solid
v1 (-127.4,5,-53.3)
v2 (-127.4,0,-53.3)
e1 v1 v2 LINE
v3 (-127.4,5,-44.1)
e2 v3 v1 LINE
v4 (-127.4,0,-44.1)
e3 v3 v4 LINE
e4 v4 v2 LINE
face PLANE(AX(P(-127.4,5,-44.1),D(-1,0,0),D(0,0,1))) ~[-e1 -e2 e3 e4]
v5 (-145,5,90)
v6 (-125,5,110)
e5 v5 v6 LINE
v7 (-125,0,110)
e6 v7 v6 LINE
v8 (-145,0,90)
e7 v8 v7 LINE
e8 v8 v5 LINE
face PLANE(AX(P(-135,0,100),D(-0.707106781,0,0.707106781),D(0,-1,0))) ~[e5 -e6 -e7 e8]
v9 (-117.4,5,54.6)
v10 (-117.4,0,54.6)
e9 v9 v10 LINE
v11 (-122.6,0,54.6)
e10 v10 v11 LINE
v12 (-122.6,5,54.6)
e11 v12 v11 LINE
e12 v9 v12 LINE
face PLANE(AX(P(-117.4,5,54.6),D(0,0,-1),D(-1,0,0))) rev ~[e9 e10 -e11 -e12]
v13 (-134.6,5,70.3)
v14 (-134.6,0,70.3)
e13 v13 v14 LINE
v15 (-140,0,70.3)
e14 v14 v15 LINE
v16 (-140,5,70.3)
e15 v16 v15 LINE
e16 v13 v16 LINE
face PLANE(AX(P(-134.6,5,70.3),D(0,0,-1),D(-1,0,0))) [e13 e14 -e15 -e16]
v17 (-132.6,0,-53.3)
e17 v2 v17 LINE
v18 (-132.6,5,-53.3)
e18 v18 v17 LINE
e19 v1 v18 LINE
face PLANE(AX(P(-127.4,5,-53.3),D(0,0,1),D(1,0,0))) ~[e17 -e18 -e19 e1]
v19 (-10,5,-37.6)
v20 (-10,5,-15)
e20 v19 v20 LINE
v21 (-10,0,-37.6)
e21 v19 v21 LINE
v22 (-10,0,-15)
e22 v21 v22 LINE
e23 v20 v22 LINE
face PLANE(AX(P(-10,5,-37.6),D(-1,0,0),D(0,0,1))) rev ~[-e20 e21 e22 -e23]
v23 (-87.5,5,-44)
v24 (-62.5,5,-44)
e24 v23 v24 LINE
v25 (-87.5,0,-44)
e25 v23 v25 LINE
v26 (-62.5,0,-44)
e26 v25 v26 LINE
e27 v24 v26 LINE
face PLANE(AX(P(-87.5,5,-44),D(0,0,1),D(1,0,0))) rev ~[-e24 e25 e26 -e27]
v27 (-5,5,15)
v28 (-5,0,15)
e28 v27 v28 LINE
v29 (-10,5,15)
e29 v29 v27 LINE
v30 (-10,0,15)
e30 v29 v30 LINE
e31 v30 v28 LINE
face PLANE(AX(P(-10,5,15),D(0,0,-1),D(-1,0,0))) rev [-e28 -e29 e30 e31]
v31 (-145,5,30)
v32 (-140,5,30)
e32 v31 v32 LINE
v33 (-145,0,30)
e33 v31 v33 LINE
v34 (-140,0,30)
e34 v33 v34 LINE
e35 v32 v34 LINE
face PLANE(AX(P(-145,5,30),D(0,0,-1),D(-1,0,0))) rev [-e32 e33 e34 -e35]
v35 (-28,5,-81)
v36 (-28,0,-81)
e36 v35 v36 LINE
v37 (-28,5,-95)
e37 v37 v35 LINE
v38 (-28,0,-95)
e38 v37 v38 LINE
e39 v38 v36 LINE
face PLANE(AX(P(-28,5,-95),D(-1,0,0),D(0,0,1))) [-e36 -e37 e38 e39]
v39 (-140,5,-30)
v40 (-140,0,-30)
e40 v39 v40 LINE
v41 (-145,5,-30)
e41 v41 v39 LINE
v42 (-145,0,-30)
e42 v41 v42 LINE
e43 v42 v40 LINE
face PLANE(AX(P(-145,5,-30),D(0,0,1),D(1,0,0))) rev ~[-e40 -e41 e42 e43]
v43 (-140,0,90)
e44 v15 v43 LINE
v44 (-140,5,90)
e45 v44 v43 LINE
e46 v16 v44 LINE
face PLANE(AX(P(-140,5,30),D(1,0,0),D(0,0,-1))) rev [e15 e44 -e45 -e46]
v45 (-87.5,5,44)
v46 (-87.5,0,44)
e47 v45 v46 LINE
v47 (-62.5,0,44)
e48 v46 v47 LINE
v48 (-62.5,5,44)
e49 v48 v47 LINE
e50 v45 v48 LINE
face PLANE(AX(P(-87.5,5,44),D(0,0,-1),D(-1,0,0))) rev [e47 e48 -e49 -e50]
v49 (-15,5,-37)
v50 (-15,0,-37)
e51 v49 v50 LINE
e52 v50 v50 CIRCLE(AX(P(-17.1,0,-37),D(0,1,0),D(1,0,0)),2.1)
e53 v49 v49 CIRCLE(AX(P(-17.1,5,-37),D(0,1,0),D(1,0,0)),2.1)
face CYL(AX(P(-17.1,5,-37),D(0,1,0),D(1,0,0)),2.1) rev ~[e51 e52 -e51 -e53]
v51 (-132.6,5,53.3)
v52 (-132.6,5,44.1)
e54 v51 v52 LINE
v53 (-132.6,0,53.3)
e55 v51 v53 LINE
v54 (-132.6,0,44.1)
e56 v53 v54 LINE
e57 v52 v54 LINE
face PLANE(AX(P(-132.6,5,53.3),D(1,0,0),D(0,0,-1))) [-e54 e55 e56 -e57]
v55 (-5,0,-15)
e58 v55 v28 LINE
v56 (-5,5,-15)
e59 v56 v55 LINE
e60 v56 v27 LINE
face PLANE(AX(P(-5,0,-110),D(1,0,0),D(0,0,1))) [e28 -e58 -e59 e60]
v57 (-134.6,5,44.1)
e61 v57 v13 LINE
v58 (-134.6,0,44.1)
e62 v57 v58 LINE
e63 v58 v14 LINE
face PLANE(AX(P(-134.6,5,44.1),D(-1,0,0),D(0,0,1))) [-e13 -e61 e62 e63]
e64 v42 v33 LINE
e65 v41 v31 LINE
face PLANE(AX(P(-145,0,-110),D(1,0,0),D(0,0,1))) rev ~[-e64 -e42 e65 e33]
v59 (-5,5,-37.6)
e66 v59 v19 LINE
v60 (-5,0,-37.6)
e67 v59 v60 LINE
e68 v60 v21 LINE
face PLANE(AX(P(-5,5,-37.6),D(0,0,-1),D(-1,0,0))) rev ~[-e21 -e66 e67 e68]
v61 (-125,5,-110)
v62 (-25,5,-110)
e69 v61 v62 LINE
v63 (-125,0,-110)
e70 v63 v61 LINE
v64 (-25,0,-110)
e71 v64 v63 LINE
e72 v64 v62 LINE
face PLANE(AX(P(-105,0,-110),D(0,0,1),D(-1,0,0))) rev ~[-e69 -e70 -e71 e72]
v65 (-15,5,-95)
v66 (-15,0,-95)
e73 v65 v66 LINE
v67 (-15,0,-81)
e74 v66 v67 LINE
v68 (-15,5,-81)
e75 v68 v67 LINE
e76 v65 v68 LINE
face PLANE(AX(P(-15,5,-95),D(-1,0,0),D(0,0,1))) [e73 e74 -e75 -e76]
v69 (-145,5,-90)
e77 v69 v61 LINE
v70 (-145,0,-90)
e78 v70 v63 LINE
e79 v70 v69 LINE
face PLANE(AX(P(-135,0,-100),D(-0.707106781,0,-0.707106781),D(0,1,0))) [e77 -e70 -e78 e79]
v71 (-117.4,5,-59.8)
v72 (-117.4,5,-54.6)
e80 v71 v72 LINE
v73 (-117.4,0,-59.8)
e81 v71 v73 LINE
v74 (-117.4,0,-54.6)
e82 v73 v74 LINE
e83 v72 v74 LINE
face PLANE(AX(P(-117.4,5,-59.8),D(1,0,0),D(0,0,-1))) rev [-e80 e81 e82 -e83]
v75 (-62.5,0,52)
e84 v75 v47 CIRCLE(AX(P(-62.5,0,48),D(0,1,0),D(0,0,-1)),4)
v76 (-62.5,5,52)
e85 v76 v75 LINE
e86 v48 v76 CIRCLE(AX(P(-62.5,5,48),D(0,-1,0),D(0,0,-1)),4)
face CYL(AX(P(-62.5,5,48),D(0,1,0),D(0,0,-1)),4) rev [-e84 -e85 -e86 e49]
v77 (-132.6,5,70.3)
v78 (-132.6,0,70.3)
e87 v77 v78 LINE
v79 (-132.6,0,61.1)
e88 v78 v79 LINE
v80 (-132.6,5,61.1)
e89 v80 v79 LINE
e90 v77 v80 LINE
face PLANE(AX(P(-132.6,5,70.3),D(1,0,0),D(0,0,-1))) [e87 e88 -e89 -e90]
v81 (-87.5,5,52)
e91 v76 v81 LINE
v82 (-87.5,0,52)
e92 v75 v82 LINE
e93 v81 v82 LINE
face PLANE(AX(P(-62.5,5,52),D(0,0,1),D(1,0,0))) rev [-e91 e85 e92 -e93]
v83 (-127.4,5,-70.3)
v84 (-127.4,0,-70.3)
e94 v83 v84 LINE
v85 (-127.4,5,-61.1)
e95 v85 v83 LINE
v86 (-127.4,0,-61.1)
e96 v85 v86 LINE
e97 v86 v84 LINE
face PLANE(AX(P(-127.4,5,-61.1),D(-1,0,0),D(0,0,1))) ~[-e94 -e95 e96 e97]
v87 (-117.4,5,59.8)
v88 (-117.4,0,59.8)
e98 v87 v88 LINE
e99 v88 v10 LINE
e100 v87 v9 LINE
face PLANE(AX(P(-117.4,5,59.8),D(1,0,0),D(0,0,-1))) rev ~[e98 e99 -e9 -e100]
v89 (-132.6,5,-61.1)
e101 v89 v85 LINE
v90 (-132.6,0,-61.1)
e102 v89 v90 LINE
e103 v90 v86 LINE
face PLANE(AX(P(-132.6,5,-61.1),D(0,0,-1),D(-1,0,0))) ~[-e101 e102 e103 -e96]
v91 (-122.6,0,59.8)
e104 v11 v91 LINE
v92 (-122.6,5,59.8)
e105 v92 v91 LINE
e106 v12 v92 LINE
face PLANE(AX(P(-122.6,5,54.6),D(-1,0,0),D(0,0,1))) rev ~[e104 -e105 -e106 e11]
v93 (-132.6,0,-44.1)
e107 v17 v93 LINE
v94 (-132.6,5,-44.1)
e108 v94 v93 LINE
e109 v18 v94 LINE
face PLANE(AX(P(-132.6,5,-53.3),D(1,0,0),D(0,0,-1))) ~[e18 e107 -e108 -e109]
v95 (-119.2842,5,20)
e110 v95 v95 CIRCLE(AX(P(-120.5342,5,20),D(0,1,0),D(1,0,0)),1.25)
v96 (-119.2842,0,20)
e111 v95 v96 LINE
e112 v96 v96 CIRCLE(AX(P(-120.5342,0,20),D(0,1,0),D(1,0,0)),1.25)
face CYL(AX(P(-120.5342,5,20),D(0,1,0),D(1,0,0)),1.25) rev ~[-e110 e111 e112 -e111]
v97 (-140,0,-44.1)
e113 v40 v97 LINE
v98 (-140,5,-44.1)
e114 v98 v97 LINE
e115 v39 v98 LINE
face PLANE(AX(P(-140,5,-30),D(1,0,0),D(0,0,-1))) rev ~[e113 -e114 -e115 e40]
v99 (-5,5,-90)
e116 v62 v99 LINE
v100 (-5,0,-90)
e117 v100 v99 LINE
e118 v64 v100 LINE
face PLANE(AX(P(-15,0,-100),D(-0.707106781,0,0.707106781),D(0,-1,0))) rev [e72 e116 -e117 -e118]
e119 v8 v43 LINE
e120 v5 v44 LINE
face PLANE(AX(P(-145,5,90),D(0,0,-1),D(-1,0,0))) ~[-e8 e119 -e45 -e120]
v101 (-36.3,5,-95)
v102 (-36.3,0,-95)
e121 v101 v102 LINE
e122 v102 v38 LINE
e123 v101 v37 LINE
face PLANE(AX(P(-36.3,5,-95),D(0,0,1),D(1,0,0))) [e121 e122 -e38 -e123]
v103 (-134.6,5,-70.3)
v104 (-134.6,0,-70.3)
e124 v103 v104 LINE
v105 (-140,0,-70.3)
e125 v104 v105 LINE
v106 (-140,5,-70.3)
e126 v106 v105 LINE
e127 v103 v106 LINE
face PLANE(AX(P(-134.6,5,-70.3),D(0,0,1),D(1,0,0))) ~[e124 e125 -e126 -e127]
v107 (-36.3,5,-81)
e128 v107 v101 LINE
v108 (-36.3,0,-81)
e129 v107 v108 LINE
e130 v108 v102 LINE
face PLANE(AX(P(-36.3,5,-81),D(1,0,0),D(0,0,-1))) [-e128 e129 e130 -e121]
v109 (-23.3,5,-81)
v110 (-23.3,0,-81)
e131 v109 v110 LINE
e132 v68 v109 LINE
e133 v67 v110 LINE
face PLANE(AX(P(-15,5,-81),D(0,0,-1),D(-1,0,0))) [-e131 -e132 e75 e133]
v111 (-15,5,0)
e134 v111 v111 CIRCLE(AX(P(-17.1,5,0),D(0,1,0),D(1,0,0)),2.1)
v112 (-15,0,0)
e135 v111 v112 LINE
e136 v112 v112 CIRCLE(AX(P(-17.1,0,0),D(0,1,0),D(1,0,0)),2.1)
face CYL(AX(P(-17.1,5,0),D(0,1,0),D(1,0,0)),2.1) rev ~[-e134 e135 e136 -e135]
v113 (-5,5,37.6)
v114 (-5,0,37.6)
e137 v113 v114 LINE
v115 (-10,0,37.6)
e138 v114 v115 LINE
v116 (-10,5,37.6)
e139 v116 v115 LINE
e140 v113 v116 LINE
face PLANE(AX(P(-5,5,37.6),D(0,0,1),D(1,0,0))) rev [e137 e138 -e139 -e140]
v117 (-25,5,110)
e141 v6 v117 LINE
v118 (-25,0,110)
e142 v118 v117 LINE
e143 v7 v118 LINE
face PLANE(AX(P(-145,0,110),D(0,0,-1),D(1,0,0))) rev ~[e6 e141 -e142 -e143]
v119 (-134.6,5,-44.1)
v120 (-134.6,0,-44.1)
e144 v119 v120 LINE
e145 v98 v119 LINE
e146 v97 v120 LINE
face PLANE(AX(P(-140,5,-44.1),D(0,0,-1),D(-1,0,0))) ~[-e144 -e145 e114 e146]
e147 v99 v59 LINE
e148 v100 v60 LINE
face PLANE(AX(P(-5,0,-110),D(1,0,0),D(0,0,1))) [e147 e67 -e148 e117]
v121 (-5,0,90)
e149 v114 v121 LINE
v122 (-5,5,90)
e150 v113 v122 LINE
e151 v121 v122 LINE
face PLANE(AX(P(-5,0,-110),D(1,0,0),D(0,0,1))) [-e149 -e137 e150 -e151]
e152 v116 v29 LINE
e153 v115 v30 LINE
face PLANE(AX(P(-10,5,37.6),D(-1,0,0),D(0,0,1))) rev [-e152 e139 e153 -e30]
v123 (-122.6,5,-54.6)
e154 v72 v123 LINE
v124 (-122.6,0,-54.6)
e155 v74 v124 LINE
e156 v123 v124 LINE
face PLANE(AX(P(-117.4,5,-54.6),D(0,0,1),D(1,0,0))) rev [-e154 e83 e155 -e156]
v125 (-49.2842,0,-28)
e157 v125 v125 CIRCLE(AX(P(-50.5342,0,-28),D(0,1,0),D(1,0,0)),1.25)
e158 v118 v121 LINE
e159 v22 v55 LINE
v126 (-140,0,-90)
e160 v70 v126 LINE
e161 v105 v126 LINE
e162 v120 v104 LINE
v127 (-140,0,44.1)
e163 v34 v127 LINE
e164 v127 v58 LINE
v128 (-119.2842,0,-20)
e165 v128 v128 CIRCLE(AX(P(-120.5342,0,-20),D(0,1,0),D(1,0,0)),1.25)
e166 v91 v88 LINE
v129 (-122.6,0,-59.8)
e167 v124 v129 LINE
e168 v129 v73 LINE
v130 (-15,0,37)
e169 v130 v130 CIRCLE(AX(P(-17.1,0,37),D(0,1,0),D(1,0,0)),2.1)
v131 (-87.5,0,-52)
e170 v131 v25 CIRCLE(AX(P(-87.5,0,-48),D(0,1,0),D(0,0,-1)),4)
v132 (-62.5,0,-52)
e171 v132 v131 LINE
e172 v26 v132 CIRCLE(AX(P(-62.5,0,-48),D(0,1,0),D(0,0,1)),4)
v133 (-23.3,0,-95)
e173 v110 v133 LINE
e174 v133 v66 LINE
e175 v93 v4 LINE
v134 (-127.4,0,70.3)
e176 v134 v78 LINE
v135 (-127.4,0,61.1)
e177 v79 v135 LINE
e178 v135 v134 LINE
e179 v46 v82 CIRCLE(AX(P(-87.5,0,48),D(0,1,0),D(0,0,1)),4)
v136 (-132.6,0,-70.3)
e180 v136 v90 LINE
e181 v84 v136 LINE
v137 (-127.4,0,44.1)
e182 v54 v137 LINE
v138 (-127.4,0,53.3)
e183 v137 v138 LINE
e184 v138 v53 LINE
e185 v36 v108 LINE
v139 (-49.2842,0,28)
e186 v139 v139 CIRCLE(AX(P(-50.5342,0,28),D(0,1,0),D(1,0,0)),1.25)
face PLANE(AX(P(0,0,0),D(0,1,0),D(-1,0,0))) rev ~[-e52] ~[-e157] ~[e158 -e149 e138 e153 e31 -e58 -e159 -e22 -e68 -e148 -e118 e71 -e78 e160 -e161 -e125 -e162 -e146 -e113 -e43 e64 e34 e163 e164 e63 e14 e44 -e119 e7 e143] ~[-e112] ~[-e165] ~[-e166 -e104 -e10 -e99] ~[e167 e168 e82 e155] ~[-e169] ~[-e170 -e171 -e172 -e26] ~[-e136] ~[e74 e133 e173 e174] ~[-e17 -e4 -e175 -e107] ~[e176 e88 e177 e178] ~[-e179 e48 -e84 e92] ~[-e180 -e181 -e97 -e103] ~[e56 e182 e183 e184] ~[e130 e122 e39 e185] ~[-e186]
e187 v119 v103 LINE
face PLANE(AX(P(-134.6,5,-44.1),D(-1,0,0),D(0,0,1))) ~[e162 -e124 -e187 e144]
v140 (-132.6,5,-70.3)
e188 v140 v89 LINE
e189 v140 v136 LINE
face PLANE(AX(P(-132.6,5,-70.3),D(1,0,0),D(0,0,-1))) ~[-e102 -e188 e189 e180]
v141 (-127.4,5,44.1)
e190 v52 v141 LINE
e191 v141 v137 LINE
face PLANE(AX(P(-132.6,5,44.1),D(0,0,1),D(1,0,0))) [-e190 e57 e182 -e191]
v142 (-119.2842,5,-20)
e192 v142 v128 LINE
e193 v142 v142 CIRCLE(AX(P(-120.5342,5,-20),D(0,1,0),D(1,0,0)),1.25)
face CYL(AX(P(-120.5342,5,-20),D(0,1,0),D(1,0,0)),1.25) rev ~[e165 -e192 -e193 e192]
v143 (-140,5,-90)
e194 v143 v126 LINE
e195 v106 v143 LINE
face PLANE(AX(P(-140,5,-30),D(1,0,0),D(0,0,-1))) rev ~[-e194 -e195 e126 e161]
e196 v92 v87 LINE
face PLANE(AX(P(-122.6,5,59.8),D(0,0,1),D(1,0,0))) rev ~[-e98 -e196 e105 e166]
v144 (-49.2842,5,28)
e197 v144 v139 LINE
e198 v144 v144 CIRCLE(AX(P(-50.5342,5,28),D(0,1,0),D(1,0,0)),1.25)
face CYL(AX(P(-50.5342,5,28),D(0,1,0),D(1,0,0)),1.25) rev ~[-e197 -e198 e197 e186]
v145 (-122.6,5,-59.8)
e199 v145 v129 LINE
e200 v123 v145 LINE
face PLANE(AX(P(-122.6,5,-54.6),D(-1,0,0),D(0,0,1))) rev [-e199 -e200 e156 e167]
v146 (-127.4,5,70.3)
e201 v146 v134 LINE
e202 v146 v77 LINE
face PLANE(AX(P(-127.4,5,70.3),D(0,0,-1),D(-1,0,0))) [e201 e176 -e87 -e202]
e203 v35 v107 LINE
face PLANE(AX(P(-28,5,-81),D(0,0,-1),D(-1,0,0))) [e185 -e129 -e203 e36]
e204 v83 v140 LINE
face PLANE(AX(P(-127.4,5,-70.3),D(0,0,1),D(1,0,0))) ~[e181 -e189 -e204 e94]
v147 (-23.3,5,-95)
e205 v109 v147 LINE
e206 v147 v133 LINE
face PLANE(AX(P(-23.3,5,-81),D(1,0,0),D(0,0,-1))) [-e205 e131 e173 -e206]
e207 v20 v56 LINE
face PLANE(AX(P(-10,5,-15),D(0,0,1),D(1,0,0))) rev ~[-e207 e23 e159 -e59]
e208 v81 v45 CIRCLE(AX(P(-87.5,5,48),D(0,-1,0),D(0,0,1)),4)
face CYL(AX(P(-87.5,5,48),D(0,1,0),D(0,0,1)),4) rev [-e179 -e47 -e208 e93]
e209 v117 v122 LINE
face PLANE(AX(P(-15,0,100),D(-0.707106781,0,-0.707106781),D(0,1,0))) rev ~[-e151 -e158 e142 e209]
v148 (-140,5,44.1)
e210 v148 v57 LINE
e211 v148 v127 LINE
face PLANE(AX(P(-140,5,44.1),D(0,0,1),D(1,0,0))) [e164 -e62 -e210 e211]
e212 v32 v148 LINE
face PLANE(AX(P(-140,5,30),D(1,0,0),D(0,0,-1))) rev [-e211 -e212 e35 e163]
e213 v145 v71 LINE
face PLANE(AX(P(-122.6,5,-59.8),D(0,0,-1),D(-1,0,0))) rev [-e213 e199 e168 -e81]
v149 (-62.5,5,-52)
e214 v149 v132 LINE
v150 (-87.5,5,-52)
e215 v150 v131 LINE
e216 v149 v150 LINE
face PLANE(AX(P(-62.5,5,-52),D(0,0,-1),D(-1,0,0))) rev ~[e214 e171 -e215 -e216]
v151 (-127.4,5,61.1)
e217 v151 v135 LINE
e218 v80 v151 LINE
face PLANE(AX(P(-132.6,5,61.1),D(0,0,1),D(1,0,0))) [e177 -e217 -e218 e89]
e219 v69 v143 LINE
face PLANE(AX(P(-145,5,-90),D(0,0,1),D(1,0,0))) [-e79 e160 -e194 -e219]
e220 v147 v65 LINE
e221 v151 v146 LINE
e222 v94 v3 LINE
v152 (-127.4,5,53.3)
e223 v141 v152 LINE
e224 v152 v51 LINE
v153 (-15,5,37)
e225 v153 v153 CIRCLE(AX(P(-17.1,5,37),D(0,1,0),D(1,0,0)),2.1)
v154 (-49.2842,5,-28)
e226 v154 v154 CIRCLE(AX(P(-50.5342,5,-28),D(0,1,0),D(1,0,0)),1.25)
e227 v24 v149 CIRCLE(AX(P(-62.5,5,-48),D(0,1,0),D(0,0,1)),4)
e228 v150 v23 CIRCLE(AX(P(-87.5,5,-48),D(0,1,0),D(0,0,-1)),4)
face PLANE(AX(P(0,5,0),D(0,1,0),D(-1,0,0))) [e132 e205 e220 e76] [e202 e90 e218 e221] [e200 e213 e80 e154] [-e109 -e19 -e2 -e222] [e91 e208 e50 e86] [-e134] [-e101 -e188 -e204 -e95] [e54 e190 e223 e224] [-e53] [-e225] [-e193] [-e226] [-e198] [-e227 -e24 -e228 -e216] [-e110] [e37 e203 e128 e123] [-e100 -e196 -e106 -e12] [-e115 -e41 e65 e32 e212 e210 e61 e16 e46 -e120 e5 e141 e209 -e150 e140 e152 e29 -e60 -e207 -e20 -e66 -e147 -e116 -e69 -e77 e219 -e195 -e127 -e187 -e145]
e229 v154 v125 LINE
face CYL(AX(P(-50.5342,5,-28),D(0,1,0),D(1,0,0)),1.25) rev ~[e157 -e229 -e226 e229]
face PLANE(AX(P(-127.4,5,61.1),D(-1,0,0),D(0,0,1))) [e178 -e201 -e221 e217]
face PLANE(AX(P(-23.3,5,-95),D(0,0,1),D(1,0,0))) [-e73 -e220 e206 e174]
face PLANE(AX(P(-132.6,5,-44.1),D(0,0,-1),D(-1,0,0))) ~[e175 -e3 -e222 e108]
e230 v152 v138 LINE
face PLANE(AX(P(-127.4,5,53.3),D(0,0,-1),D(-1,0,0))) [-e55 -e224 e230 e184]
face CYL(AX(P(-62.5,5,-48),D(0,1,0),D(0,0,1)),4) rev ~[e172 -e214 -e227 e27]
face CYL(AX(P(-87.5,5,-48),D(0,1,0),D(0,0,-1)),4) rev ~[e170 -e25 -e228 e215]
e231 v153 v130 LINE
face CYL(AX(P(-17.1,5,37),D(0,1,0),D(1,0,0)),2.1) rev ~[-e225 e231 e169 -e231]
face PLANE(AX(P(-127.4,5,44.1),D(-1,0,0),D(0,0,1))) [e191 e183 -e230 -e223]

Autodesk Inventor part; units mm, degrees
ref_plane "YZ Plane" through (0, 0, 0) normal (1, 0, 0) x (0, 1, 0)
ref_plane "XZ Plane" through (0, 0, 0) normal (0, 1, 0) x (-1, 0, 0)
ref_plane "XY Plane" through (0, 0, 0) normal (0, 0, 1) x (1, 0, 0)
sketch "Sketch1" plane through (0, 0, 0) normal (0, 1, 0) x (-1, 0, 0)
  line L0 (145, 110) -> (-145, 110)
  line L1 (-145, 110) -> (-145, -110)
  line L2 (-145, -110) -> (145, -110)
  line L3 (145, -110) -> (145, 110)
  line L4 (145, 110) -> (-145, -110) construction
  line L5 (-145, 110) -> (145, -110) construction
  line L6 (105, -80.8333) -> (35, -80.8333)
  line L7 (35, -80.8333) -> (35, -115.8333)
  line L8 (35, -115.8333) -> (105, -115.8333)
  line L9 (105, -115.8333) -> (105, -80.8333)
  line L10 (105, -80.8333) -> (35, -115.8333) construction
  line L11 (35, -80.8333) -> (105, -115.8333) construction
  line L12 (-35, -115.8333) -> (-105, -115.8333)
  line L13 (-105, -115.8333) -> (-105, -80.8333)
  line L14 (-105, -80.8333) -> (-35, -80.8333)
  line L15 (-35, -80.8333) -> (-35, -115.8333)
  line L16 (-35, -115.8333) -> (-105, -80.8333) construction
  line L17 (-105, -115.8333) -> (-35, -80.8333) construction
  line L18 (0, 110) -> (0, -110) construction
  line L19 (5, -110) -> (5, 110)
  point P0 (0, 0)
  point P1 (70, -98.3333)
  point P2 (-70, -98.3333)
  point P3 (0, 0)
  point P4 (-105, -110)
  point P5 (-35, -110)
  point P6 (-15, -80.8333)
  point P7 (-55, -80.8333)
  point P8 (105, -110)
  point P9 (35, -110)
  dimension "d1" = 70
  dimension "d2" = 70
  dimension "d3" = 35
  dimension "d4" = 35
  dimension "d5" = 140
  dimension "d6" = 11.6667
  dimension "d7" = 220
  dimension "d8" = 290
  dimension "d34" = 140
extrude "Extrusion1" add sketch "Sketch1" along normal blind 5 contours L3 L2 L9 L6 L7 L19 L0 | L2 L7 L6 L9
sketch "Sketch5" plane through (0, 5, 0) normal (0, 1, 0) x (1, 0, 0)
  line L0 (-145, -110) -> (-5, -110) construction
  line L1 (-5, -110) -> (-5, 110) construction
  line L2 (-5, 110) -> (-145, 110) construction
  line L3 (-145, 110) -> (-145, -110) construction
  circle A0 centre (-120.5342, 20) radius 1.25
  circle A1 centre (-120.5342, -20) radius 1.25
  circle A2 centre (-50.5342, 28) radius 1.25
  circle A3 centre (-50.5342, -28) radius 1.25
  line L4 (-145, 0) -> (-5, 0) construction
  point P0 (0, 0)
  dimension "d35" = 56
  dimension "d36" = 40
  dimension "d37" = 70
  dimension "d38" = 2.5
  dimension "d39" = 2.5
extrude "Extrusion6" cut sketch "Sketch5" against normal through all
chamfer "Chamfer1" distance 20 angle 45 4 edges at (-145, 2.5, 110) (-145, 2.5, -110) (-5, 2.5, 110) (-5, 2.5, -110)
sketch "Sketch6" plane through (0, 5, 0) normal (0, 1, 0) x (1, 0, 0)
  circle A0 centre (-50.5342, -28) radius 1.25 projected
  circle A1 centre (-50.5342, 28) radius 1.25 projected
  circle A2 centre (-120.5342, -20) radius 1.25 projected
  circle A3 centre (-120.5342, 20) radius 1.25 projected
  line L0 (-25, 110) -> (-5, 90) projected
  line L1 (-25, 110) -> (-125, 110) projected
  line L2 (-145, 90) -> (-125, 110) projected
  line L3 (-145, 90) -> (-145, -90) projected
  line L4 (-125, -110) -> (-145, -90) projected
  line L5 (-125, -110) -> (-25, -110) projected
  line L6 (-5, -90) -> (-25, -110) projected
  line L7 (-5, -90) -> (-5, 90) projected
  line L8 (-145, 90) -> (-145, -90) projected
  line L9 (-5, 37.6) -> (-10, 37.6)
  line L10 (-10, 37.6) -> (-10, 15)
  line L11 (-10, 15) -> (-5, 15)
  line L12 (-5, 15) -> (-5, 37.6)
  line L13 (-5, 37.6) -> (-10, 15) construction
  line L14 (-10, 37.6) -> (-5, 15) construction
  line L15 (-5, -90) -> (-5, 90) projected
  line L16 (-87.5, 48) -> (-62.5, 48) construction
  line L17 (-87.5, 44) -> (-62.5, 44)
  line L18 (-62.5, 52) -> (-87.5, 52)
  arc A4 (-87.5, 52) -> (-87.5, 44) centre (-87.5, 48) ccw
  arc A5 (-62.5, 44) -> (-62.5, 52) centre (-62.5, 48) ccw
  line L19 (-145, 30) -> (-140, 30)
  line L20 (-140, 30) -> (-140, -30) construction
  line L21 (-140, -30) -> (-145, -30)
  line L22 (-145, -30) -> (-145, 30)
  line L23 (-145, 30) -> (-140, -30) construction
  line L24 (-140, 30) -> (-145, -30) construction
  line L25 (-140, 30) -> (-140, 95)
  line L26 (-140, -30) -> (-140, -95)
  line L27 (-145, 90) -> (-140, 90)
  point P0 (0, 0)
  point P1 (-7.5, 26.3)
  point P2 (-5, 15)
  point P3 (-5, 37.6)
  point P4 (-75, 48)
  point P5 (-75, 110)
  point P6 (-142.5, 0)
  point P7 (-145, 0)
  point P8 (-145, 0)
  dimension "d57" = 5
  dimension "d58" = 22.6
  dimension "d59" = 15
  dimension "d60" = 8
  dimension "d61" = 25
  dimension "d86" = 5
  dimension "d87" = 60
  dimension "d88" = 48
extrude "Extrusion7" cut sketch "Sketch6" against normal through all contours L7 L11 L10 L9 | L27 L25 L19 L3 | A4 L18 A5 L17
mirror "Mirror6" about plane through (0, 0, 0) normal (0, 0, 1) of "Extrusion7"
sketch "Sketch8" plane through (0, 5, 0) normal (0, 1, 0) x (1, 0, 0)
  circle A0 centre (-120.5342, 20) radius 1.25 construction
  circle A1 centre (-120.5342, -20) radius 1.25 construction
  circle A2 centre (-50.5342, 28) radius 1.25 construction
  circle A3 centre (-50.5342, -28) radius 1.25 construction
  line L0 (-87.5, 52) -> (-62.5, 52) construction
  arc A4 (-62.5, 44) -> (-62.5, 52) centre (-62.5, 48) ccw construction
  line L1 (-62.5, 44) -> (-87.5, 44) construction
  arc A5 (-87.5, 52) -> (-87.5, 44) centre (-87.5, 48) ccw construction
  line L2 (-87.5, -44) -> (-62.5, -44) construction
  arc A6 (-62.5, -52) -> (-62.5, -44) centre (-62.5, -48) ccw construction
  line L3 (-62.5, -52) -> (-87.5, -52) construction
  arc A7 (-87.5, -44) -> (-87.5, -52) centre (-87.5, -48) ccw construction
  line L4 (-125, -110) -> (-145, -90) construction
  line L5 (-125, -110) -> (-25, -110) construction
  line L6 (-5, -90) -> (-25, -110) construction
  line L7 (-5, -90) -> (-5, -37.6) construction
  line L8 (-5, -37.6) -> (-10, -37.6) construction
  line L9 (-10, -37.6) -> (-10, -15) construction
  line L10 (-10, -15) -> (-5, -15) construction
  line L11 (-5, -15) -> (-5, 15) construction
  line L12 (-5, 15) -> (-10, 15) construction
  line L13 (-10, 15) -> (-10, 37.6) construction
  line L14 (-10, 37.6) -> (-5, 37.6) construction
  line L15 (-5, 37.6) -> (-5, 90) construction
  line L16 (-25, 110) -> (-5, 90) construction
  line L17 (-25, 110) -> (-125, 110) construction
  line L18 (-145, 90) -> (-125, 110) construction
  line L19 (-145, 30) -> (-145, -30) construction
  line L20 (-23.3, 95) -> (-15, 95)
  line L21 (-15, 95) -> (-15, 81)
  line L22 (-15, 81) -> (-23.3, 81)
  line L23 (-23.3, 81) -> (-23.3, 95)
  line L24 (-23.3, 95) -> (-15, 81) construction
  line L25 (-15, 95) -> (-23.3, 81) construction
  line L26 (-36.3, 95) -> (-28, 95)
  line L27 (-28, 95) -> (-28, 81)
  line L28 (-28, 81) -> (-36.3, 81)
  line L29 (-36.3, 81) -> (-36.3, 95)
  line L30 (-36.3, 95) -> (-28, 81) construction
  line L31 (-28, 95) -> (-36.3, 81) construction
  line L32 (-132.6, -44.1) -> (-127.4, -44.1)
  line L33 (-127.4, -44.1) -> (-127.4, -53.3)
  line L34 (-127.4, -53.3) -> (-132.6, -53.3)
  line L35 (-132.6, -53.3) -> (-132.6, -44.1)
  line L36 (-132.6, -44.1) -> (-127.4, -53.3) construction
  line L37 (-127.4, -44.1) -> (-132.6, -53.3) construction
  line L38 (-132.6, -61.1) -> (-127.4, -61.1)
  line L39 (-127.4, -61.1) -> (-127.4, -70.3)
  line L40 (-127.4, -70.3) -> (-132.6, -70.3)
  line L41 (-132.6, -70.3) -> (-132.6, -61.1)
  line L42 (-132.6, -61.1) -> (-127.4, -70.3) construction
  line L43 (-127.4, -61.1) -> (-132.6, -70.3) construction
  line L44 (-117.4, -54.6) -> (-122.6, -54.6)
  line L45 (-122.6, -54.6) -> (-122.6, -59.8)
  line L46 (-122.6, -59.8) -> (-117.4, -59.8)
  line L47 (-117.4, -59.8) -> (-117.4, -54.6)
  line L48 (-117.4, -54.6) -> (-122.6, -59.8) construction
  line L49 (-122.6, -54.6) -> (-117.4, -59.8) construction
  line L50 (-130, -48.7) -> (-130, -65.7) construction
  line L51 (-140, -44.1) -> (-134.6, -44.1)
  line L52 (-134.6, -44.1) -> (-134.6, -70.3)
  line L53 (-134.6, -70.3) -> (-140, -70.3)
  line L54 (-140, -70.3) -> (-140, -44.1)
  line L55 (-140, -44.1) -> (-134.6, -70.3) construction
  line L56 (-134.6, -44.1) -> (-140, -70.3) construction
  line L57 (-140, 90) -> (-140, 30) projected
  line L58 (-140, 30) -> (-145, 30) projected
  line L59 (-145, -30) -> (-140, -30) projected
  line L60 (-140, -30) -> (-140, -90) projected
  circle A8 centre (-17.1, 0) radius 2.1
  circle A9 centre (-17.1, 37) radius 2.1
  circle A10 centre (-17.1, -37) radius 2.1
  point P0 (0, 0)
  point P1 (-19.15, 88)
  point P2 (-32.15, 88)
  point P3 (-120, -57.2)
  point P4 (-130, -57.2)
  point P5 (-137.3, -57.2)
  point P6 (-140, 95)
  point P7 (-140, -95)
  dimension "d63" = 14
  dimension "d64" = 8.3
  dimension "d65" = 14
  dimension "d66" = 8.3
  dimension "d67" = 13
  dimension "d68" = 15
  dimension "d69" = 10
  dimension "d72" = 52.8
  dimension "d73" = 10
  dimension "d74" = 9.2
  dimension "d75" = 9.2
  dimension "d76" = 5.2
  dimension "d77" = 5.2
  dimension "d78" = 5.2
  dimension "d79" = 5.2
  dimension "d80" = 15
  dimension "d81" = 17
  dimension "d83" = 2
  dimension "d89" = 4.2
  dimension "d90" = 4.2
  dimension "d91" = 4.2
  dimension "d92" = 17.1
  dimension "d93" = 37
  dimension "d94" = 37
extrude "Extrusion8" cut sketch "Sketch8" against normal through all contours L20 L21 L22 L23 | L26 L27 L28 L29 | A8 | A9 | A10
extrude "Extrusion9" cut sketch "Sketch8" against normal through all contours L32 L33 L34 L35 | L38 L39 L40 L41 | L47 L46 L45 L44 | L51 L52 L53 L54
mirror "Mirror7" about plane through (0, 0, 0) normal (0, 0, 1) of "Extrusion9"
equation "\"d2\" = d1"
equation "\"d4\" = d3"
equation "\"d6\" = 0.333333 * d3"
equation "\"d39\" = d38"
equation "\"d65\" = d63"
equation "\"d66\" = d64"
equation "\"d75\" = d74"
equation "\"d77\" = d76"
equation "\"d90\" = d89"
equation "\"d91\" = d89"
equation "\"d94\" = d93"
properties part number "top-plate"
